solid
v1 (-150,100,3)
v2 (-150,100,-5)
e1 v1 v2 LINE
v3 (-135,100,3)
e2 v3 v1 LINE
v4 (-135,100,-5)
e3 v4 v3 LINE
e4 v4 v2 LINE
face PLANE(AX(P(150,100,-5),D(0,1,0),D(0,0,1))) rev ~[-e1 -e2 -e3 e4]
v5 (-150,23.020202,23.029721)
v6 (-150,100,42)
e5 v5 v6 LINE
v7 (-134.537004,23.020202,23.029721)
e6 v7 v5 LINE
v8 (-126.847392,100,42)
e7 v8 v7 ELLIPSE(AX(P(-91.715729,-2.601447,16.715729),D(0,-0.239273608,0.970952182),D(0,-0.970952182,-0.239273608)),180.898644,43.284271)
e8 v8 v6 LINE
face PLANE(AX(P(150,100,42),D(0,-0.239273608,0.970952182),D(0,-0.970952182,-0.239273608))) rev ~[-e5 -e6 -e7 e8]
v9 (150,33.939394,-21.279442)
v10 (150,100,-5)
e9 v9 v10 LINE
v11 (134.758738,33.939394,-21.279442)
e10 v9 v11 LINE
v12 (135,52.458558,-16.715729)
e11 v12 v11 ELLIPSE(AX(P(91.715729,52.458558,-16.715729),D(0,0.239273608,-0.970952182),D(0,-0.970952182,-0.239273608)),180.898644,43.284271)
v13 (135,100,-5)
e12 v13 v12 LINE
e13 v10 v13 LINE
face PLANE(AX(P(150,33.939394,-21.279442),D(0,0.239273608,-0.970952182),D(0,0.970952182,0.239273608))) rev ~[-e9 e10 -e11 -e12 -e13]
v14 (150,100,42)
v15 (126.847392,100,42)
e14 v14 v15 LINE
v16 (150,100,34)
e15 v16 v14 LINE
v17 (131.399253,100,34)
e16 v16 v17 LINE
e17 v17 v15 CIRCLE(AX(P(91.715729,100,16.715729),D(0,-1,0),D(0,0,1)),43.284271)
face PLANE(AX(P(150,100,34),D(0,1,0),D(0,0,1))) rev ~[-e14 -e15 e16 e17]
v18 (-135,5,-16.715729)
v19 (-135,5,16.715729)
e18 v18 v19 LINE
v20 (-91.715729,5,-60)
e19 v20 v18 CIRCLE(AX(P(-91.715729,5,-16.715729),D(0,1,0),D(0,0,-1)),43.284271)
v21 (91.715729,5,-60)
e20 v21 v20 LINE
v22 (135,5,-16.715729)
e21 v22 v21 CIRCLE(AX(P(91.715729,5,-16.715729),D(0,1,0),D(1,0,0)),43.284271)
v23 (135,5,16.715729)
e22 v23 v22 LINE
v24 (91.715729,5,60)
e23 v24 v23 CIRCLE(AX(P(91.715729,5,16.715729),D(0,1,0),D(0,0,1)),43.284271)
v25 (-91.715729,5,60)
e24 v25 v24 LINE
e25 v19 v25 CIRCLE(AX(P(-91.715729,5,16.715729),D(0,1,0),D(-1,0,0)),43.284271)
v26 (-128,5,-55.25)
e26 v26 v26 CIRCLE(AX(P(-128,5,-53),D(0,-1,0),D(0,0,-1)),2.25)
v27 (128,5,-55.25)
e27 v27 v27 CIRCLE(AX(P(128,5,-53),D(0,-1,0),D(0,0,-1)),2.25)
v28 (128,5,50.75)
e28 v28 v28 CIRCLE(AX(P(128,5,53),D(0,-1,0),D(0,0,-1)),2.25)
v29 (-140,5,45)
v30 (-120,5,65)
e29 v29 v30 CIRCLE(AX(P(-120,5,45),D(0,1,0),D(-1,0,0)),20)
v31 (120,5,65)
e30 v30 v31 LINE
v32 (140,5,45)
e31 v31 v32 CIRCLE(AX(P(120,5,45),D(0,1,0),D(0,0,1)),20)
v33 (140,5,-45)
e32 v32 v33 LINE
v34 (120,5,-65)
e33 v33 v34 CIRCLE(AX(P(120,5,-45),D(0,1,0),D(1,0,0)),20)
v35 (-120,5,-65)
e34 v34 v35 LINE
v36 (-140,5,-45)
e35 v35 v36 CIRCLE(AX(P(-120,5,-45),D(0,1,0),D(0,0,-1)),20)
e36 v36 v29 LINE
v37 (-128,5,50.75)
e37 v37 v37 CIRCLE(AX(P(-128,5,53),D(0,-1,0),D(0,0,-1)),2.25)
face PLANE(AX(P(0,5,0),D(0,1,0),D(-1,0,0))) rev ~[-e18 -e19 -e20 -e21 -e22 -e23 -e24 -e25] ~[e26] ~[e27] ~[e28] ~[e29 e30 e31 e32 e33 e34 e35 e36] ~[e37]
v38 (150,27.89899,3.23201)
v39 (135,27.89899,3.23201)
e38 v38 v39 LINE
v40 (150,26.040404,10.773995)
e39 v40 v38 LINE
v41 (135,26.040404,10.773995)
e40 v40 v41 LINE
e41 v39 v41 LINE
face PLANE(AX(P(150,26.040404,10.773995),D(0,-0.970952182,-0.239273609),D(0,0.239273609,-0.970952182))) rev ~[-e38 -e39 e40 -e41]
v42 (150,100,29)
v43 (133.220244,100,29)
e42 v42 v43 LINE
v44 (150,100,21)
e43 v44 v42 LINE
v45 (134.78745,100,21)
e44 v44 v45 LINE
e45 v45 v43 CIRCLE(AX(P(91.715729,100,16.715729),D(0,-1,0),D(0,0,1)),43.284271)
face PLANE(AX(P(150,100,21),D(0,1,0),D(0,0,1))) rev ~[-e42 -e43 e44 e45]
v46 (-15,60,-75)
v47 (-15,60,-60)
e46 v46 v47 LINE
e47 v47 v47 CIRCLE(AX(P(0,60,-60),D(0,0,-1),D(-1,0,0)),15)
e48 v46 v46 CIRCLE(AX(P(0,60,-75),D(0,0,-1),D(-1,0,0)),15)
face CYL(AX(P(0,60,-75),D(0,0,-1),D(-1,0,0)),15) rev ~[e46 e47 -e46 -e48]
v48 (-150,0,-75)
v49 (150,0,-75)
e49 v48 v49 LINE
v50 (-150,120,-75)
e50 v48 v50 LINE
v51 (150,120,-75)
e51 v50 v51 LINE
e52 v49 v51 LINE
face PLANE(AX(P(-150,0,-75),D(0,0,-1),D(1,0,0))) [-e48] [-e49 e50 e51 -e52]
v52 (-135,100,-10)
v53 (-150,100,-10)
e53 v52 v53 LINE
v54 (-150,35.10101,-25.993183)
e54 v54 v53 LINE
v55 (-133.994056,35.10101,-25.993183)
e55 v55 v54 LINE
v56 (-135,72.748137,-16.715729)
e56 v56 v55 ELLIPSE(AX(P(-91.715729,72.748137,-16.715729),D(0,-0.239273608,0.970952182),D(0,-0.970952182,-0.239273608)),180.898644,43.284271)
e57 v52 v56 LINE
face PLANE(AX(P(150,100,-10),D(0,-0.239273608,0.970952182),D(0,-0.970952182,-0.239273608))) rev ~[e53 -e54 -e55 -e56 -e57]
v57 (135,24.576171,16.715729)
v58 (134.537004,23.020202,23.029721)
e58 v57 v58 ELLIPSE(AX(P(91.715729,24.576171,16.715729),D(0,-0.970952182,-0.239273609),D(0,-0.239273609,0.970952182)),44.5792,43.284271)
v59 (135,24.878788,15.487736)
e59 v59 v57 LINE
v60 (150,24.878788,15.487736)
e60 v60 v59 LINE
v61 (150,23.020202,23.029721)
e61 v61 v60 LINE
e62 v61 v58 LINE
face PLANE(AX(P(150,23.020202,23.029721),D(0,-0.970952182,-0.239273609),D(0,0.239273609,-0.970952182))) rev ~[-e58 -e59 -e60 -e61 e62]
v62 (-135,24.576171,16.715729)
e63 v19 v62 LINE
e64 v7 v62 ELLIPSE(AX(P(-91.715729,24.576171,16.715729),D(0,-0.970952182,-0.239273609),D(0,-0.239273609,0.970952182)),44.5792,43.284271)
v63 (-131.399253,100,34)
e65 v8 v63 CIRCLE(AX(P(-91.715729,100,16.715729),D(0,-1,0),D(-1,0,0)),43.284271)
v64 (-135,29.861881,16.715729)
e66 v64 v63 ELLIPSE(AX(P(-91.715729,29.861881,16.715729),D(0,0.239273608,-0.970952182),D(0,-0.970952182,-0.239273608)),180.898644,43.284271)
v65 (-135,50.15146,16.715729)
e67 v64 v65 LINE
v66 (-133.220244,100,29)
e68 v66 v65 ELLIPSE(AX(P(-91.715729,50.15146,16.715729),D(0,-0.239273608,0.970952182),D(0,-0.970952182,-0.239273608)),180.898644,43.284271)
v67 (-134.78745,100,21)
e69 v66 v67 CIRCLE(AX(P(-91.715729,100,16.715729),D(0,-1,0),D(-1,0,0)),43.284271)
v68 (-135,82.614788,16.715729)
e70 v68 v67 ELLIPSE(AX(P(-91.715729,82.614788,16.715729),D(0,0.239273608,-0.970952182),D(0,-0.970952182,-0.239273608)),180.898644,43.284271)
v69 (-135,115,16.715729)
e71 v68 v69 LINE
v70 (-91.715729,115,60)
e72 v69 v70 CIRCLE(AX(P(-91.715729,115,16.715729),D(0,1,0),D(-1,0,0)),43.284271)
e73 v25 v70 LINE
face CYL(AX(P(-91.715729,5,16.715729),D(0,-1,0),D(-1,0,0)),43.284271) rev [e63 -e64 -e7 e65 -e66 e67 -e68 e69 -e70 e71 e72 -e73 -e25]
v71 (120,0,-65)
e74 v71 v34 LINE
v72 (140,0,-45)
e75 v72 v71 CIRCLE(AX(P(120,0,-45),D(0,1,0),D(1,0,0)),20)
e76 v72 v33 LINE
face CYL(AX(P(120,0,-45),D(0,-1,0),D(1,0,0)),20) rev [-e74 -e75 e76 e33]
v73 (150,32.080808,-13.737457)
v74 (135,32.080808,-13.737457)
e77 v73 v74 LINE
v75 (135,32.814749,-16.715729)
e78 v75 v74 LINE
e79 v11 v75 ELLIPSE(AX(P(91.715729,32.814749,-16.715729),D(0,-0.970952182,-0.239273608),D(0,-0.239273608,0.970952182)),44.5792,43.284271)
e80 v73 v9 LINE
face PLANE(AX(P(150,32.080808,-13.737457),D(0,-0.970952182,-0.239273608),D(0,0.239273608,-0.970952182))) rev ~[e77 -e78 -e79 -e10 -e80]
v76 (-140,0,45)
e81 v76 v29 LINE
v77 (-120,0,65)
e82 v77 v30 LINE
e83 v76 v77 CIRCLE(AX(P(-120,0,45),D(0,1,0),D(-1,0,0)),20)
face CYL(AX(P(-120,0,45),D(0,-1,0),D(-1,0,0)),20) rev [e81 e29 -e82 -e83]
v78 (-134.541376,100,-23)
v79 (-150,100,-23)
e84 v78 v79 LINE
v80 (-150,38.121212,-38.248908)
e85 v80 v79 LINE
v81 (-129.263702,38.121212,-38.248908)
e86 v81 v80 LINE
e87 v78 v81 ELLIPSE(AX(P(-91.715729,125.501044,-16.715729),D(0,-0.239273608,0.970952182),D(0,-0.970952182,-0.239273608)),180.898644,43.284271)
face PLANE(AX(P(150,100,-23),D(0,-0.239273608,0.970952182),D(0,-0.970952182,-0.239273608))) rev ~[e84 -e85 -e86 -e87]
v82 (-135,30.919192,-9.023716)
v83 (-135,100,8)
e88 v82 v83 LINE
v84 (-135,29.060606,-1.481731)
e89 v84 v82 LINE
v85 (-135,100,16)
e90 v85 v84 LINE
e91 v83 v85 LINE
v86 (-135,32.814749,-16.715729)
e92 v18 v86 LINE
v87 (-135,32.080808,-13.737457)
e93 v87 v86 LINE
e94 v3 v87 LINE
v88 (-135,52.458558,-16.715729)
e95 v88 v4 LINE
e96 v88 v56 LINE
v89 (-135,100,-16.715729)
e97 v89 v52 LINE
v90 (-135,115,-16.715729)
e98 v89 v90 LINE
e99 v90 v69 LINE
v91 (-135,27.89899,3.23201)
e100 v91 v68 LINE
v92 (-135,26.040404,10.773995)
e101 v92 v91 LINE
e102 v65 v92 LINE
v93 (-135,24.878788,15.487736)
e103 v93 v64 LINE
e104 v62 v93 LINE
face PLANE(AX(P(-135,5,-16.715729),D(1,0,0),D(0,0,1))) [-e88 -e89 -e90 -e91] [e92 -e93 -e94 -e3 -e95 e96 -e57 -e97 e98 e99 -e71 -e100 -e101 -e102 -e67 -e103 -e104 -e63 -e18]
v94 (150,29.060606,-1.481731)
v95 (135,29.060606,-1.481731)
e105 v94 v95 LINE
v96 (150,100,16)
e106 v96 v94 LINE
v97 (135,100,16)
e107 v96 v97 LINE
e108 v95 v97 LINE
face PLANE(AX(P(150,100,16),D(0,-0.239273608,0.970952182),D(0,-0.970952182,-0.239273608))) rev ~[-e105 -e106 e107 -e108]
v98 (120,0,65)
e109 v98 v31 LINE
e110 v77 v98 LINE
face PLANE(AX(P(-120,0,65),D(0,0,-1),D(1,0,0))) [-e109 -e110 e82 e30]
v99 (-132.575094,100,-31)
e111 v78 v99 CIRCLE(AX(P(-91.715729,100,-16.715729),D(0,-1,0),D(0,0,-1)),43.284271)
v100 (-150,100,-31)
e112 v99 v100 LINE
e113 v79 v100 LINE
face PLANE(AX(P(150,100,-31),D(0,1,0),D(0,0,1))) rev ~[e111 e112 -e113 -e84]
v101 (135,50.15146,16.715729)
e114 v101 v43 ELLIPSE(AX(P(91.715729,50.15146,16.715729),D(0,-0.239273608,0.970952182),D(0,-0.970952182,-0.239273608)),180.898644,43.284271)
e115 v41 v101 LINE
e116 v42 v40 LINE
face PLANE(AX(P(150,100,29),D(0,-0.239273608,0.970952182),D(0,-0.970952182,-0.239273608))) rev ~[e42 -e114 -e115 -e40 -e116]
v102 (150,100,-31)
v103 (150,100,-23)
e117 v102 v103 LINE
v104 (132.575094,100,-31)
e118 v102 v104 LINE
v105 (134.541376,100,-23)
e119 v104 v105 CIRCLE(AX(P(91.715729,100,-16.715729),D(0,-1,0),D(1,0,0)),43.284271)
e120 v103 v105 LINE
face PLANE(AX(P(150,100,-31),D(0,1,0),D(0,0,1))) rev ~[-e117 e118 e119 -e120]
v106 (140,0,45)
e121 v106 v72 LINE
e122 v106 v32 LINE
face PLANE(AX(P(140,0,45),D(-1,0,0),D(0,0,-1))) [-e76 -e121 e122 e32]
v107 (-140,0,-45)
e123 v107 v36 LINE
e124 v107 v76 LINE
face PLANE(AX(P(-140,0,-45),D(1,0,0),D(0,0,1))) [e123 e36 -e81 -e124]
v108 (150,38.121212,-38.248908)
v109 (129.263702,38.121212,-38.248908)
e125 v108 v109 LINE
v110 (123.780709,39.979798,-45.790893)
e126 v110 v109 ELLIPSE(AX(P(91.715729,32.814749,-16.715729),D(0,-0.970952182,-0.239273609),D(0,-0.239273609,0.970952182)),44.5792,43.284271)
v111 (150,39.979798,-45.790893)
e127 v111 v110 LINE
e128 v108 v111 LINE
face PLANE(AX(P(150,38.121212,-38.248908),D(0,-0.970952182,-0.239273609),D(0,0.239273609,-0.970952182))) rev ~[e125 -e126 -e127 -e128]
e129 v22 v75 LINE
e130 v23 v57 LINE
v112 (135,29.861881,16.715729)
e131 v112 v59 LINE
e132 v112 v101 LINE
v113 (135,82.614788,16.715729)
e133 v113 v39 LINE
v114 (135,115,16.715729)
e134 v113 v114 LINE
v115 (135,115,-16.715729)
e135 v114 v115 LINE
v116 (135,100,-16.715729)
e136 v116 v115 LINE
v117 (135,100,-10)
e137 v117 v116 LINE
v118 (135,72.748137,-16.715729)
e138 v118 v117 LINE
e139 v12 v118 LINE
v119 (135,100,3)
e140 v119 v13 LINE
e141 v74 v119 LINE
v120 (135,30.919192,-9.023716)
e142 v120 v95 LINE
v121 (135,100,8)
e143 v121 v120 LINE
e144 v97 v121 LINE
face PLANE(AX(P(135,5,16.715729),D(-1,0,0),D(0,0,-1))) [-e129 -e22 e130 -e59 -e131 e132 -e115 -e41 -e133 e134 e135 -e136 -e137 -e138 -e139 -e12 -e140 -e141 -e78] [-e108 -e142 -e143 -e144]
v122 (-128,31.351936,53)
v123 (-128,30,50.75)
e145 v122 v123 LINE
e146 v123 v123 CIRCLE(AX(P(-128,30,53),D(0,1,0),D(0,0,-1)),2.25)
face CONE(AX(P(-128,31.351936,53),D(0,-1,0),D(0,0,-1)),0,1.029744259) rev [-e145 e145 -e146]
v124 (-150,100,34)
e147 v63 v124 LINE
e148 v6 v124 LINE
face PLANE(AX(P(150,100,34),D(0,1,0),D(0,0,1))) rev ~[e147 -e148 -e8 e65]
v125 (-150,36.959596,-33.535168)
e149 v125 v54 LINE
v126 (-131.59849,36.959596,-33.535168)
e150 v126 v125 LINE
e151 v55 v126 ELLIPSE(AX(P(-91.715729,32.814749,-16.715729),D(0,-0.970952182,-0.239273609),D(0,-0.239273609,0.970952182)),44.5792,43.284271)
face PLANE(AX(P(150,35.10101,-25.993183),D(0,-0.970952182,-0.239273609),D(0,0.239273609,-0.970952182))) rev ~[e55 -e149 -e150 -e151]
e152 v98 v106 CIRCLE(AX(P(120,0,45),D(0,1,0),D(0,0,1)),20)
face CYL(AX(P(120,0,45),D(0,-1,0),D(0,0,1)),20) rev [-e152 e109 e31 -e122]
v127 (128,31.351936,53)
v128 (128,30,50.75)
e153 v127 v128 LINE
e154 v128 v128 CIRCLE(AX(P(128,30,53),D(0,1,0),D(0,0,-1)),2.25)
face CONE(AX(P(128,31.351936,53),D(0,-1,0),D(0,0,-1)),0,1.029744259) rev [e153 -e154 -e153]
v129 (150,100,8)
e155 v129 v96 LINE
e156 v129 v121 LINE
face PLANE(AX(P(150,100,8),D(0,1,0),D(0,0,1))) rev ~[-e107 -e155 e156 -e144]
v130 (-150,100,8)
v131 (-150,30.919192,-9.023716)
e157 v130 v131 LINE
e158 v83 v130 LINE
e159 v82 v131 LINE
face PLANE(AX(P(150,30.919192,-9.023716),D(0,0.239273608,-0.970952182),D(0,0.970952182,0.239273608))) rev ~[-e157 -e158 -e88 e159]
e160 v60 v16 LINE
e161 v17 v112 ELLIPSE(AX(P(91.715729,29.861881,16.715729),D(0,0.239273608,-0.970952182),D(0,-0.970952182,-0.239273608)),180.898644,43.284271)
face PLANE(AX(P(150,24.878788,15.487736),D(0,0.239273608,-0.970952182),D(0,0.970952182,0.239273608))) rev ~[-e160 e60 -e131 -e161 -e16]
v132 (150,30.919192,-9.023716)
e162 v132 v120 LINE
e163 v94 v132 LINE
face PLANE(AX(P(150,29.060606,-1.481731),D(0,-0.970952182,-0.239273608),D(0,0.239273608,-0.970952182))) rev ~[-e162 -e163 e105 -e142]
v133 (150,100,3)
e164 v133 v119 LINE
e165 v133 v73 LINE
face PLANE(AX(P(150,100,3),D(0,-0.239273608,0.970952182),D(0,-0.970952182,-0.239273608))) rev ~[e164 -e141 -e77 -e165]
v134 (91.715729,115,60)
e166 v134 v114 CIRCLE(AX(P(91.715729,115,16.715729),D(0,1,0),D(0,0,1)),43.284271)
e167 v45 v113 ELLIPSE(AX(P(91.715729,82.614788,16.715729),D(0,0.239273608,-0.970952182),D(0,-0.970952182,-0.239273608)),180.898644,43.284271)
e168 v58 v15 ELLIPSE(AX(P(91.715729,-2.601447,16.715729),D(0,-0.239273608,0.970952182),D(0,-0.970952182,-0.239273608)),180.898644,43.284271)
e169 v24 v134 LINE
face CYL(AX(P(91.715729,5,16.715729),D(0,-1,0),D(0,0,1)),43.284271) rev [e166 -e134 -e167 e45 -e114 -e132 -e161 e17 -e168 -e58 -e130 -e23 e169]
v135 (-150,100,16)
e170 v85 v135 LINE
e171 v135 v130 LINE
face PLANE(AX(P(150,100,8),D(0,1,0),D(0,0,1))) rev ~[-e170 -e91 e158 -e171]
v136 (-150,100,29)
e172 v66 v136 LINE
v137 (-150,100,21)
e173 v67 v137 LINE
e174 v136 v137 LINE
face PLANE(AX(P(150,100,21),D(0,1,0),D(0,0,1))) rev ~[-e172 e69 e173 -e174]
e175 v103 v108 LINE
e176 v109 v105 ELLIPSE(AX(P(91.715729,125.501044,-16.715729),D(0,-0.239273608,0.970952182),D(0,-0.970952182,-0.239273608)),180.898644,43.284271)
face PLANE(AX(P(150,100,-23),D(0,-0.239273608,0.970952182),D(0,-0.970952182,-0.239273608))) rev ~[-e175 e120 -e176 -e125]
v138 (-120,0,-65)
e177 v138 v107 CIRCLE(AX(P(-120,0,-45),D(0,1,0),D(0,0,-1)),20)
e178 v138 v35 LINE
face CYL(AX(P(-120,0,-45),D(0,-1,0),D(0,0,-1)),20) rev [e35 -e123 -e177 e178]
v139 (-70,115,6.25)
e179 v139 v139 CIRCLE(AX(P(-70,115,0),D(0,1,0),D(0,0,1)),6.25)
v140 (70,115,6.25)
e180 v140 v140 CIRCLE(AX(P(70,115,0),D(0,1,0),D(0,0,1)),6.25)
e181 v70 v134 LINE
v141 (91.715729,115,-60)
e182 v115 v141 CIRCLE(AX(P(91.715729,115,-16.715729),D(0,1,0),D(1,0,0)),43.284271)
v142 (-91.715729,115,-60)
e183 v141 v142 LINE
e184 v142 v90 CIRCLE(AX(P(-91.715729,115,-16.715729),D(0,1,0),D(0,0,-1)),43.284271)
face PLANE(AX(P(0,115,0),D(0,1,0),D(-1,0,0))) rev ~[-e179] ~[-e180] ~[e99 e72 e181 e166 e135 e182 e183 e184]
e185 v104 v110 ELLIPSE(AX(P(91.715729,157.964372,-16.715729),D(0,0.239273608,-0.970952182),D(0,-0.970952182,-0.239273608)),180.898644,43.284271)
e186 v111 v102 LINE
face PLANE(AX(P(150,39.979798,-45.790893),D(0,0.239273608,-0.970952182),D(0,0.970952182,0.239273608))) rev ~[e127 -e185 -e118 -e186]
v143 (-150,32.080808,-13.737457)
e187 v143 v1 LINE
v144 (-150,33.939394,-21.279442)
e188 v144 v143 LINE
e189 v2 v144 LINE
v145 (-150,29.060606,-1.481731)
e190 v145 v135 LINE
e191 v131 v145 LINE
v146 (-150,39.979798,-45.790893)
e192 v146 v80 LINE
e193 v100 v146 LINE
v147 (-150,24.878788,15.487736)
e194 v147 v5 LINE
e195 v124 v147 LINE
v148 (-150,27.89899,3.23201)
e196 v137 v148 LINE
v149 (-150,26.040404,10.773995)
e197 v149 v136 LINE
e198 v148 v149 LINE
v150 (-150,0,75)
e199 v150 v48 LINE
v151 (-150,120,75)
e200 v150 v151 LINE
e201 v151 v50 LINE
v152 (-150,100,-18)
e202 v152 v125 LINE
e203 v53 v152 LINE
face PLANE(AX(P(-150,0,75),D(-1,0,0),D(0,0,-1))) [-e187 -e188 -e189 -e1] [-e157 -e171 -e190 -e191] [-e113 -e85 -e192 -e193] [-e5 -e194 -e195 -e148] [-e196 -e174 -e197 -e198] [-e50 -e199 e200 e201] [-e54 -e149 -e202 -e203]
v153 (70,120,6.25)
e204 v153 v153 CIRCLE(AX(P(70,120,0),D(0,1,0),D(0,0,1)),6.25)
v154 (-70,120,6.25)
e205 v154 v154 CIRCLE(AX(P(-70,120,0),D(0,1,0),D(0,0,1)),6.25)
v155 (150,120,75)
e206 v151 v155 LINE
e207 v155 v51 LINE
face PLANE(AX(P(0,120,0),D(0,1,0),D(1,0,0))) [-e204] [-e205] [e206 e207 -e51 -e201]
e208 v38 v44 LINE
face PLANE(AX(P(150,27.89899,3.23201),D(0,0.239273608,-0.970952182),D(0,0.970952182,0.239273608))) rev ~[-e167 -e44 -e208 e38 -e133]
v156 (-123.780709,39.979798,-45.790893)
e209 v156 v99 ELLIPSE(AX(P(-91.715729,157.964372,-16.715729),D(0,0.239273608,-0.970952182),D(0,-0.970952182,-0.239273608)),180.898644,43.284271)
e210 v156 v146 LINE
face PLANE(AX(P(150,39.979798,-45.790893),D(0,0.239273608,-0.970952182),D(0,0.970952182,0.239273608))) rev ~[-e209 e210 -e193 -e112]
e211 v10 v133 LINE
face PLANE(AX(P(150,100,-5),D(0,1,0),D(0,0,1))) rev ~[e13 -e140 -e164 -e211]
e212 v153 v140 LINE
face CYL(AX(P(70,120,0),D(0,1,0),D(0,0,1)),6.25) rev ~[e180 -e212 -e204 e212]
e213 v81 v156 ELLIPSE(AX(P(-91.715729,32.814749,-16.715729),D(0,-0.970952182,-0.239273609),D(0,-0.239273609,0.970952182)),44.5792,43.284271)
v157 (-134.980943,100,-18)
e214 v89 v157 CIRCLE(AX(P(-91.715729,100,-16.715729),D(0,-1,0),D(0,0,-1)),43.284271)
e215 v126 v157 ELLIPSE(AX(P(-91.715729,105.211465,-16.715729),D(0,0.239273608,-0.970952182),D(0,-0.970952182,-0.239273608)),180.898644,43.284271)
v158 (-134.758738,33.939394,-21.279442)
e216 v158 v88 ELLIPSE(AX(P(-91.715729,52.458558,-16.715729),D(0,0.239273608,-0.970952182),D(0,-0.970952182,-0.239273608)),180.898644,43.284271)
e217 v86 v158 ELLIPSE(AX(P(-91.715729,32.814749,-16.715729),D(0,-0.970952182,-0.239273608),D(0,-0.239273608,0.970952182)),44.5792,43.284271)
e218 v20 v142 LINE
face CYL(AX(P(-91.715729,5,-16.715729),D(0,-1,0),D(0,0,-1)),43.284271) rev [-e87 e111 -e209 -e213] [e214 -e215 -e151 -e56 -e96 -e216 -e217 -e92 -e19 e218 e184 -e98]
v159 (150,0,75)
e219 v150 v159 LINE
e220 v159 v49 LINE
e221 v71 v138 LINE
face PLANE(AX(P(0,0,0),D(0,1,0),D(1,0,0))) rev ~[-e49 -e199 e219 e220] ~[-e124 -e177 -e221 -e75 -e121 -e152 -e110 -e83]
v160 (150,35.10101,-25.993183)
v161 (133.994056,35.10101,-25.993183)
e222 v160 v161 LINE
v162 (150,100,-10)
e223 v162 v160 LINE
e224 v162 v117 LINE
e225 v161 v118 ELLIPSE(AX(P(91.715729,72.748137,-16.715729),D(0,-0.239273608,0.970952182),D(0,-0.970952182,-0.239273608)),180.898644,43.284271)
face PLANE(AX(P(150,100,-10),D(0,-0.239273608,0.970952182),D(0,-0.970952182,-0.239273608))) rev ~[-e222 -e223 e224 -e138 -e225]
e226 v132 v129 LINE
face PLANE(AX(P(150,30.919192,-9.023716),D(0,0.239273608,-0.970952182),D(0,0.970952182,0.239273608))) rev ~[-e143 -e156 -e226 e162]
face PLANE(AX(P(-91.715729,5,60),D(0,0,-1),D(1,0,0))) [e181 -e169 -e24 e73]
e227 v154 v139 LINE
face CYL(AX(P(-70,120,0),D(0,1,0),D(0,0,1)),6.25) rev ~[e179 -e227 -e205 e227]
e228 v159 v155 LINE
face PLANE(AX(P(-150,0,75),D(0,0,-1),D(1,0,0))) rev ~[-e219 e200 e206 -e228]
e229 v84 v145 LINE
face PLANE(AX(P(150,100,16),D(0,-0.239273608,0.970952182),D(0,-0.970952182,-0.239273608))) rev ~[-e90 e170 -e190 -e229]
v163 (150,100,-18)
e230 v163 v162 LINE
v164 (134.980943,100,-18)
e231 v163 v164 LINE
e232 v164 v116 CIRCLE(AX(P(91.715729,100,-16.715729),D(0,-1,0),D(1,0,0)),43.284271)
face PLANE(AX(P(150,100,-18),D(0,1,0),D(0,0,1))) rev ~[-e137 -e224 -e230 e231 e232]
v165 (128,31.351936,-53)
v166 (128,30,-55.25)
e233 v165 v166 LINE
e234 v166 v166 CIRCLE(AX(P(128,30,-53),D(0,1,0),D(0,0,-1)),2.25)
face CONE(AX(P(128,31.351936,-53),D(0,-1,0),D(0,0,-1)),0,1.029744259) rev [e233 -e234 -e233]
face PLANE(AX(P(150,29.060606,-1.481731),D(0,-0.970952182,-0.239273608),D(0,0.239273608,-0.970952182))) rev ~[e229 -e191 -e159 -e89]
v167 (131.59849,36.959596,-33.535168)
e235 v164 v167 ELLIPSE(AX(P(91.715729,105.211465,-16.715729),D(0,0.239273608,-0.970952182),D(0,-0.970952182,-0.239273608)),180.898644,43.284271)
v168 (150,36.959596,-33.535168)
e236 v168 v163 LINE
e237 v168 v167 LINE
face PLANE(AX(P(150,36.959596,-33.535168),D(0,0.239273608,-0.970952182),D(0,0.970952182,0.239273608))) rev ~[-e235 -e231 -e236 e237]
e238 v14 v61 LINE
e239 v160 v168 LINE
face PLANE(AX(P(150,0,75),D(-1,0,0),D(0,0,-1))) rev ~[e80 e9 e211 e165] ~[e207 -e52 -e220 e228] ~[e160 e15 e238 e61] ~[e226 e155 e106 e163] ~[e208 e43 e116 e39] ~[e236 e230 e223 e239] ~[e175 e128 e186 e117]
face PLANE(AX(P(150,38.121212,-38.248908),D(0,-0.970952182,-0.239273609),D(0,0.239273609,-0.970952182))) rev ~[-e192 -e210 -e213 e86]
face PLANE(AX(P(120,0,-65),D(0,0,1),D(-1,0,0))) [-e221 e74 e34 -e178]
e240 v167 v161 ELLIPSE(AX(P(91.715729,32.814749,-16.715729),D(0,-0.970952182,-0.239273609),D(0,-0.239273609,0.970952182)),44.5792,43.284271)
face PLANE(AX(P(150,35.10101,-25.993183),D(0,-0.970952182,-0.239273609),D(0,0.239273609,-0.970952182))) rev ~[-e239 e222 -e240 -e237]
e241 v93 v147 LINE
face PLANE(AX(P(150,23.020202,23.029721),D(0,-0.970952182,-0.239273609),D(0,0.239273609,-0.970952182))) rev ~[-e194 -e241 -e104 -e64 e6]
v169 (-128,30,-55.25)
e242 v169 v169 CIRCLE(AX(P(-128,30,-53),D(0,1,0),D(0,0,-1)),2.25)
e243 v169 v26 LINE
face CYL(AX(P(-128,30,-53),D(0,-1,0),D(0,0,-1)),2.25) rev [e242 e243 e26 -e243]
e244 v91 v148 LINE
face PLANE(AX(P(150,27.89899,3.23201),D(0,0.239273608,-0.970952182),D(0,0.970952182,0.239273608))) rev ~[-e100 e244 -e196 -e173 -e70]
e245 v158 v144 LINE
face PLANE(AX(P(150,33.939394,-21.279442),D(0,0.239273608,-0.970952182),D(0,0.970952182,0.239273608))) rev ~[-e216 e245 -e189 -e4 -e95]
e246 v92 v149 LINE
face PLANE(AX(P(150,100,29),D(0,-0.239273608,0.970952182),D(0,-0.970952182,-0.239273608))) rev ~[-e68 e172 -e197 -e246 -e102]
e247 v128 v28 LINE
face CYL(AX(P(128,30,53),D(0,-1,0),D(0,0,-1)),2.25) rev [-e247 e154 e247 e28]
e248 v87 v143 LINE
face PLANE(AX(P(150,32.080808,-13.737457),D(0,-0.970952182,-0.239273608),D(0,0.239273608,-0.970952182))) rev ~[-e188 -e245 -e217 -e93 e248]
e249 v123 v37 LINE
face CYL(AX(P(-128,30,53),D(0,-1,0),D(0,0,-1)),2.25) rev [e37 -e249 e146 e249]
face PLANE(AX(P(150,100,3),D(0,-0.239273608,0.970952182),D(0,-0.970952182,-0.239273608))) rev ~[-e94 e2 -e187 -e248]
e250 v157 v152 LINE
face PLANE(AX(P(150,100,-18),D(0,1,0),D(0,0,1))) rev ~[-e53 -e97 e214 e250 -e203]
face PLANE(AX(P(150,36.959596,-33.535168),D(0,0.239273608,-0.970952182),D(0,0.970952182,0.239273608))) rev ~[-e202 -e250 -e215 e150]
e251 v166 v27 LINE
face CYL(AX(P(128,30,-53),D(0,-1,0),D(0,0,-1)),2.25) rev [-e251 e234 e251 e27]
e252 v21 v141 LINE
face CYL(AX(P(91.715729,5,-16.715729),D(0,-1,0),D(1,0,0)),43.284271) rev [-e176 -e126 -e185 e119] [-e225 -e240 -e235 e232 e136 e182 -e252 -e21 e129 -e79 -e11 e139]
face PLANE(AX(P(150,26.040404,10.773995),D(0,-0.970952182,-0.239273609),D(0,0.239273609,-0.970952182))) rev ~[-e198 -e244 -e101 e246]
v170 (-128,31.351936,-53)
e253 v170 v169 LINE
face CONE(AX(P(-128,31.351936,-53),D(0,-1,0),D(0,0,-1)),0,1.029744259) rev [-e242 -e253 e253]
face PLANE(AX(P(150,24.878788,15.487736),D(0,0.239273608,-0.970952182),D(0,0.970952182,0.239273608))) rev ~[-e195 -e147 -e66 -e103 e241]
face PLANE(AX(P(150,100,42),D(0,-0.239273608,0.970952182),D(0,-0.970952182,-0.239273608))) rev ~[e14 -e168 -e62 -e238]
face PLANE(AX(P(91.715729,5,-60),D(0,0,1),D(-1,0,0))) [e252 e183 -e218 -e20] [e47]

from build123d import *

# Parameters (mm, degrees)
SKETCH2_W                                     = 300
SKETCH2_H                                     = 150
BOSS_EXTRUDE1_DEPTH                           = 120
CUT_EXTRUDE2_DEPTH                            = 5
CUT_EXTRUDE3_DEPTH                            = 110
CBORE_FOR_M4_PAN_HEAD_MACHINE_SCREW1_AT_COUNT = 2
CBORE_FOR_M4_PAN_HEAD_MACHINE_SCREW1_AT_PITCH = 256
CBORE_FOR_M4_PAN_HEAD_MACHINE_SCREW1_2_COUNT  = 2
CBORE_FOR_M4_PAN_HEAD_MACHINE_SCREW1_2_PITCH  = 277.077606457
CBORE_FOR_M4_PAN_HEAD_MACHINE_SCREW1_3_COUNT  = 2
CBORE_FOR_M4_PAN_HEAD_MACHINE_SCREW1_3_PITCH  = 106
CUT_EXTRUDE5_DEPTH                            = 332.700165812
SKETCH17_R                                    = 15
CUT_EXTRUDE6_DEPTH                            = 20
SKETCH3_R                                     = 6.25
CUT_EXTRUDE1_DEPTH                            = 50


with BuildPart() as part:
    # Sketch2 → Boss-Extrude1 (new body)
    with BuildSketch(Plane(origin=(0, 0, 0), x_dir=(1, 0, 0), z_dir=(0, 1, 0))):
        Rectangle(SKETCH2_W, SKETCH2_H)
    extrude(amount=BOSS_EXTRUDE1_DEPTH)

    # Sketch7 → Cut-Extrude2 (cut)
    with BuildSketch(Plane.XZ):
        with BuildLine():
            Line((-120, 65), (120, 65))
            ThreePointArc((120, 65), (134.142135624, 59.142135624), (140, 45))
            Line((140, 45), (140, -45))
            ThreePointArc((140, -45), (134.142135624, -59.142135624), (120, -65))
            Line((120, -65), (-120, -65))
            ThreePointArc((-120, -65), (-134.142135624, -59.142135624), (-140, -45))
            Line((-140, -45), (-140, 45))
            ThreePointArc((-140, 45), (-134.142135624, 59.142135624), (-120, 65))
        make_face()
    extrude(amount=-CUT_EXTRUDE2_DEPTH, mode=Mode.SUBTRACT)

    # Sketch8 → Cut-Extrude3 (cut)
    with BuildSketch(Plane.XZ.offset(-5)):
        with BuildLine():
            Line((-91.715728753, 60), (91.715728753, 60))
            ThreePointArc((91.715728753, 60), (122.32233047, 47.32233047), (135, 16.715728753))
            Line((135, 16.715728753), (135, -16.715728753))
            ThreePointArc((135, -16.715728753), (122.32233047, -47.32233047), (91.715728753, -60))
            Line((91.715728753, -60), (-91.715728753, -60))
            ThreePointArc((-91.715728753, -60), (-122.32233047, -47.32233047), (-135, -16.715728753))
            Line((-135, -16.715728753), (-135, 16.715728753))
            ThreePointArc((-135, 16.715728753), (-122.32233047, 47.32233047), (-91.715728753, 60))
        make_face()
    extrude(amount=-CUT_EXTRUDE3_DEPTH, mode=Mode.SUBTRACT)

    # Sketch14 → CBORE for M4 Pan Head Machine Screw1 (revolve, cut)
    with BuildSketch(Plane(origin=(128, 0, -53), x_dir=(0, 0, -1), z_dir=(1, 0, 0))):
        Polygon((0, 0), (0, 31.351936393), (2.25, 30), (2.25, 3.1), (4.5, 3.1), (4.5, 0.025), (4.525, 0), align=None)
    cbore_for_m4_pan_head_machine_screw1 = revolve(axis=Axis((128, -6.35, -53), (0, 1, 0)), mode=Mode.SUBTRACT)

    # CBORE for M4 Pan Head Machine Screw1 at: CBORE for M4 Pan Head Machine Screw1 ×2
    with Locations(*[(-i * CBORE_FOR_M4_PAN_HEAD_MACHINE_SCREW1_AT_PITCH, 0, 0) for i in range(1, CBORE_FOR_M4_PAN_HEAD_MACHINE_SCREW1_AT_COUNT)]):
        add(cbore_for_m4_pan_head_machine_screw1, mode=Mode.SUBTRACT)

    # CBORE for M4 Pan Head Machine Screw1 2: CBORE for M4 Pan Head Machine Screw1 ×2
    with Locations(*[Vector(-0.9239288705910962, 0, 0.38256429797912606) * (i * CBORE_FOR_M4_PAN_HEAD_MACHINE_SCREW1_2_PITCH) for i in range(1, CBORE_FOR_M4_PAN_HEAD_MACHINE_SCREW1_2_COUNT)]):
        add(cbore_for_m4_pan_head_machine_screw1, mode=Mode.SUBTRACT)

    # CBORE for M4 Pan Head Machine Screw1 3: CBORE for M4 Pan Head Machine Screw1 ×2
    with Locations(*[(0, 0, i * CBORE_FOR_M4_PAN_HEAD_MACHINE_SCREW1_3_PITCH) for i in range(1, CBORE_FOR_M4_PAN_HEAD_MACHINE_SCREW1_3_COUNT)]):
        add(cbore_for_m4_pan_head_machine_screw1, mode=Mode.SUBTRACT)

    # Sketch15 → Cut-Extrude5 (cut, through all)
    with BuildSketch(Plane(origin=(150, 0, 0), x_dir=(0, 0, -1), z_dir=(1, 0, 0))):
        Polygon((-42, 100), (-23.029720743, 23.02020202), (-15.487735621, 24.878787879), (-34, 100), align=None)
        Polygon((-29, 100), (-10.773994919, 26.04040404), (-3.232009797, 27.898989899), (-21, 100), align=None)
        Polygon((-16, 100), (1.481730904, 29.060606061), (9.023716027, 30.919191919), (-8, 100), align=None)
        Polygon((-3, 100), (13.737456728, 32.080808081), (21.27944185, 33.939393939), (5, 100), align=None)
        Polygon((10, 100), (25.993182552, 35.101010101), (33.535167674, 36.95959596), (18, 100), align=None)
        Polygon((23, 100), (38.248908375, 38.121212121), (45.790893498, 39.97979798), (31, 100), align=None)
    extrude(amount=-CUT_EXTRUDE5_DEPTH, mode=Mode.SUBTRACT)

    # Sketch17 → Cut-Extrude6 (cut)
    with BuildSketch(Plane(origin=(0, 0, -75), x_dir=(-1, 0, 0), z_dir=(0, 0, -1))):
        with Locations((0, 60)):
            Circle(SKETCH17_R)
    extrude(amount=-CUT_EXTRUDE6_DEPTH, mode=Mode.SUBTRACT)

    # Sketch3 → Cut-Extrude1 (cut)
    with BuildSketch(Plane(origin=(0, 120, 0), x_dir=(1, 0, 0), z_dir=(0, 1, 0))):
        with Locations(Location((-70, 0, 0), (0, 0, 270))):
            Circle(SKETCH3_R)
        with Locations(Location((70, 0, 0), (0, 0, 270))):
            Circle(SKETCH3_R)
    extrude(amount=-CUT_EXTRUDE1_DEPTH, mode=Mode.SUBTRACT)


solid = part.part
